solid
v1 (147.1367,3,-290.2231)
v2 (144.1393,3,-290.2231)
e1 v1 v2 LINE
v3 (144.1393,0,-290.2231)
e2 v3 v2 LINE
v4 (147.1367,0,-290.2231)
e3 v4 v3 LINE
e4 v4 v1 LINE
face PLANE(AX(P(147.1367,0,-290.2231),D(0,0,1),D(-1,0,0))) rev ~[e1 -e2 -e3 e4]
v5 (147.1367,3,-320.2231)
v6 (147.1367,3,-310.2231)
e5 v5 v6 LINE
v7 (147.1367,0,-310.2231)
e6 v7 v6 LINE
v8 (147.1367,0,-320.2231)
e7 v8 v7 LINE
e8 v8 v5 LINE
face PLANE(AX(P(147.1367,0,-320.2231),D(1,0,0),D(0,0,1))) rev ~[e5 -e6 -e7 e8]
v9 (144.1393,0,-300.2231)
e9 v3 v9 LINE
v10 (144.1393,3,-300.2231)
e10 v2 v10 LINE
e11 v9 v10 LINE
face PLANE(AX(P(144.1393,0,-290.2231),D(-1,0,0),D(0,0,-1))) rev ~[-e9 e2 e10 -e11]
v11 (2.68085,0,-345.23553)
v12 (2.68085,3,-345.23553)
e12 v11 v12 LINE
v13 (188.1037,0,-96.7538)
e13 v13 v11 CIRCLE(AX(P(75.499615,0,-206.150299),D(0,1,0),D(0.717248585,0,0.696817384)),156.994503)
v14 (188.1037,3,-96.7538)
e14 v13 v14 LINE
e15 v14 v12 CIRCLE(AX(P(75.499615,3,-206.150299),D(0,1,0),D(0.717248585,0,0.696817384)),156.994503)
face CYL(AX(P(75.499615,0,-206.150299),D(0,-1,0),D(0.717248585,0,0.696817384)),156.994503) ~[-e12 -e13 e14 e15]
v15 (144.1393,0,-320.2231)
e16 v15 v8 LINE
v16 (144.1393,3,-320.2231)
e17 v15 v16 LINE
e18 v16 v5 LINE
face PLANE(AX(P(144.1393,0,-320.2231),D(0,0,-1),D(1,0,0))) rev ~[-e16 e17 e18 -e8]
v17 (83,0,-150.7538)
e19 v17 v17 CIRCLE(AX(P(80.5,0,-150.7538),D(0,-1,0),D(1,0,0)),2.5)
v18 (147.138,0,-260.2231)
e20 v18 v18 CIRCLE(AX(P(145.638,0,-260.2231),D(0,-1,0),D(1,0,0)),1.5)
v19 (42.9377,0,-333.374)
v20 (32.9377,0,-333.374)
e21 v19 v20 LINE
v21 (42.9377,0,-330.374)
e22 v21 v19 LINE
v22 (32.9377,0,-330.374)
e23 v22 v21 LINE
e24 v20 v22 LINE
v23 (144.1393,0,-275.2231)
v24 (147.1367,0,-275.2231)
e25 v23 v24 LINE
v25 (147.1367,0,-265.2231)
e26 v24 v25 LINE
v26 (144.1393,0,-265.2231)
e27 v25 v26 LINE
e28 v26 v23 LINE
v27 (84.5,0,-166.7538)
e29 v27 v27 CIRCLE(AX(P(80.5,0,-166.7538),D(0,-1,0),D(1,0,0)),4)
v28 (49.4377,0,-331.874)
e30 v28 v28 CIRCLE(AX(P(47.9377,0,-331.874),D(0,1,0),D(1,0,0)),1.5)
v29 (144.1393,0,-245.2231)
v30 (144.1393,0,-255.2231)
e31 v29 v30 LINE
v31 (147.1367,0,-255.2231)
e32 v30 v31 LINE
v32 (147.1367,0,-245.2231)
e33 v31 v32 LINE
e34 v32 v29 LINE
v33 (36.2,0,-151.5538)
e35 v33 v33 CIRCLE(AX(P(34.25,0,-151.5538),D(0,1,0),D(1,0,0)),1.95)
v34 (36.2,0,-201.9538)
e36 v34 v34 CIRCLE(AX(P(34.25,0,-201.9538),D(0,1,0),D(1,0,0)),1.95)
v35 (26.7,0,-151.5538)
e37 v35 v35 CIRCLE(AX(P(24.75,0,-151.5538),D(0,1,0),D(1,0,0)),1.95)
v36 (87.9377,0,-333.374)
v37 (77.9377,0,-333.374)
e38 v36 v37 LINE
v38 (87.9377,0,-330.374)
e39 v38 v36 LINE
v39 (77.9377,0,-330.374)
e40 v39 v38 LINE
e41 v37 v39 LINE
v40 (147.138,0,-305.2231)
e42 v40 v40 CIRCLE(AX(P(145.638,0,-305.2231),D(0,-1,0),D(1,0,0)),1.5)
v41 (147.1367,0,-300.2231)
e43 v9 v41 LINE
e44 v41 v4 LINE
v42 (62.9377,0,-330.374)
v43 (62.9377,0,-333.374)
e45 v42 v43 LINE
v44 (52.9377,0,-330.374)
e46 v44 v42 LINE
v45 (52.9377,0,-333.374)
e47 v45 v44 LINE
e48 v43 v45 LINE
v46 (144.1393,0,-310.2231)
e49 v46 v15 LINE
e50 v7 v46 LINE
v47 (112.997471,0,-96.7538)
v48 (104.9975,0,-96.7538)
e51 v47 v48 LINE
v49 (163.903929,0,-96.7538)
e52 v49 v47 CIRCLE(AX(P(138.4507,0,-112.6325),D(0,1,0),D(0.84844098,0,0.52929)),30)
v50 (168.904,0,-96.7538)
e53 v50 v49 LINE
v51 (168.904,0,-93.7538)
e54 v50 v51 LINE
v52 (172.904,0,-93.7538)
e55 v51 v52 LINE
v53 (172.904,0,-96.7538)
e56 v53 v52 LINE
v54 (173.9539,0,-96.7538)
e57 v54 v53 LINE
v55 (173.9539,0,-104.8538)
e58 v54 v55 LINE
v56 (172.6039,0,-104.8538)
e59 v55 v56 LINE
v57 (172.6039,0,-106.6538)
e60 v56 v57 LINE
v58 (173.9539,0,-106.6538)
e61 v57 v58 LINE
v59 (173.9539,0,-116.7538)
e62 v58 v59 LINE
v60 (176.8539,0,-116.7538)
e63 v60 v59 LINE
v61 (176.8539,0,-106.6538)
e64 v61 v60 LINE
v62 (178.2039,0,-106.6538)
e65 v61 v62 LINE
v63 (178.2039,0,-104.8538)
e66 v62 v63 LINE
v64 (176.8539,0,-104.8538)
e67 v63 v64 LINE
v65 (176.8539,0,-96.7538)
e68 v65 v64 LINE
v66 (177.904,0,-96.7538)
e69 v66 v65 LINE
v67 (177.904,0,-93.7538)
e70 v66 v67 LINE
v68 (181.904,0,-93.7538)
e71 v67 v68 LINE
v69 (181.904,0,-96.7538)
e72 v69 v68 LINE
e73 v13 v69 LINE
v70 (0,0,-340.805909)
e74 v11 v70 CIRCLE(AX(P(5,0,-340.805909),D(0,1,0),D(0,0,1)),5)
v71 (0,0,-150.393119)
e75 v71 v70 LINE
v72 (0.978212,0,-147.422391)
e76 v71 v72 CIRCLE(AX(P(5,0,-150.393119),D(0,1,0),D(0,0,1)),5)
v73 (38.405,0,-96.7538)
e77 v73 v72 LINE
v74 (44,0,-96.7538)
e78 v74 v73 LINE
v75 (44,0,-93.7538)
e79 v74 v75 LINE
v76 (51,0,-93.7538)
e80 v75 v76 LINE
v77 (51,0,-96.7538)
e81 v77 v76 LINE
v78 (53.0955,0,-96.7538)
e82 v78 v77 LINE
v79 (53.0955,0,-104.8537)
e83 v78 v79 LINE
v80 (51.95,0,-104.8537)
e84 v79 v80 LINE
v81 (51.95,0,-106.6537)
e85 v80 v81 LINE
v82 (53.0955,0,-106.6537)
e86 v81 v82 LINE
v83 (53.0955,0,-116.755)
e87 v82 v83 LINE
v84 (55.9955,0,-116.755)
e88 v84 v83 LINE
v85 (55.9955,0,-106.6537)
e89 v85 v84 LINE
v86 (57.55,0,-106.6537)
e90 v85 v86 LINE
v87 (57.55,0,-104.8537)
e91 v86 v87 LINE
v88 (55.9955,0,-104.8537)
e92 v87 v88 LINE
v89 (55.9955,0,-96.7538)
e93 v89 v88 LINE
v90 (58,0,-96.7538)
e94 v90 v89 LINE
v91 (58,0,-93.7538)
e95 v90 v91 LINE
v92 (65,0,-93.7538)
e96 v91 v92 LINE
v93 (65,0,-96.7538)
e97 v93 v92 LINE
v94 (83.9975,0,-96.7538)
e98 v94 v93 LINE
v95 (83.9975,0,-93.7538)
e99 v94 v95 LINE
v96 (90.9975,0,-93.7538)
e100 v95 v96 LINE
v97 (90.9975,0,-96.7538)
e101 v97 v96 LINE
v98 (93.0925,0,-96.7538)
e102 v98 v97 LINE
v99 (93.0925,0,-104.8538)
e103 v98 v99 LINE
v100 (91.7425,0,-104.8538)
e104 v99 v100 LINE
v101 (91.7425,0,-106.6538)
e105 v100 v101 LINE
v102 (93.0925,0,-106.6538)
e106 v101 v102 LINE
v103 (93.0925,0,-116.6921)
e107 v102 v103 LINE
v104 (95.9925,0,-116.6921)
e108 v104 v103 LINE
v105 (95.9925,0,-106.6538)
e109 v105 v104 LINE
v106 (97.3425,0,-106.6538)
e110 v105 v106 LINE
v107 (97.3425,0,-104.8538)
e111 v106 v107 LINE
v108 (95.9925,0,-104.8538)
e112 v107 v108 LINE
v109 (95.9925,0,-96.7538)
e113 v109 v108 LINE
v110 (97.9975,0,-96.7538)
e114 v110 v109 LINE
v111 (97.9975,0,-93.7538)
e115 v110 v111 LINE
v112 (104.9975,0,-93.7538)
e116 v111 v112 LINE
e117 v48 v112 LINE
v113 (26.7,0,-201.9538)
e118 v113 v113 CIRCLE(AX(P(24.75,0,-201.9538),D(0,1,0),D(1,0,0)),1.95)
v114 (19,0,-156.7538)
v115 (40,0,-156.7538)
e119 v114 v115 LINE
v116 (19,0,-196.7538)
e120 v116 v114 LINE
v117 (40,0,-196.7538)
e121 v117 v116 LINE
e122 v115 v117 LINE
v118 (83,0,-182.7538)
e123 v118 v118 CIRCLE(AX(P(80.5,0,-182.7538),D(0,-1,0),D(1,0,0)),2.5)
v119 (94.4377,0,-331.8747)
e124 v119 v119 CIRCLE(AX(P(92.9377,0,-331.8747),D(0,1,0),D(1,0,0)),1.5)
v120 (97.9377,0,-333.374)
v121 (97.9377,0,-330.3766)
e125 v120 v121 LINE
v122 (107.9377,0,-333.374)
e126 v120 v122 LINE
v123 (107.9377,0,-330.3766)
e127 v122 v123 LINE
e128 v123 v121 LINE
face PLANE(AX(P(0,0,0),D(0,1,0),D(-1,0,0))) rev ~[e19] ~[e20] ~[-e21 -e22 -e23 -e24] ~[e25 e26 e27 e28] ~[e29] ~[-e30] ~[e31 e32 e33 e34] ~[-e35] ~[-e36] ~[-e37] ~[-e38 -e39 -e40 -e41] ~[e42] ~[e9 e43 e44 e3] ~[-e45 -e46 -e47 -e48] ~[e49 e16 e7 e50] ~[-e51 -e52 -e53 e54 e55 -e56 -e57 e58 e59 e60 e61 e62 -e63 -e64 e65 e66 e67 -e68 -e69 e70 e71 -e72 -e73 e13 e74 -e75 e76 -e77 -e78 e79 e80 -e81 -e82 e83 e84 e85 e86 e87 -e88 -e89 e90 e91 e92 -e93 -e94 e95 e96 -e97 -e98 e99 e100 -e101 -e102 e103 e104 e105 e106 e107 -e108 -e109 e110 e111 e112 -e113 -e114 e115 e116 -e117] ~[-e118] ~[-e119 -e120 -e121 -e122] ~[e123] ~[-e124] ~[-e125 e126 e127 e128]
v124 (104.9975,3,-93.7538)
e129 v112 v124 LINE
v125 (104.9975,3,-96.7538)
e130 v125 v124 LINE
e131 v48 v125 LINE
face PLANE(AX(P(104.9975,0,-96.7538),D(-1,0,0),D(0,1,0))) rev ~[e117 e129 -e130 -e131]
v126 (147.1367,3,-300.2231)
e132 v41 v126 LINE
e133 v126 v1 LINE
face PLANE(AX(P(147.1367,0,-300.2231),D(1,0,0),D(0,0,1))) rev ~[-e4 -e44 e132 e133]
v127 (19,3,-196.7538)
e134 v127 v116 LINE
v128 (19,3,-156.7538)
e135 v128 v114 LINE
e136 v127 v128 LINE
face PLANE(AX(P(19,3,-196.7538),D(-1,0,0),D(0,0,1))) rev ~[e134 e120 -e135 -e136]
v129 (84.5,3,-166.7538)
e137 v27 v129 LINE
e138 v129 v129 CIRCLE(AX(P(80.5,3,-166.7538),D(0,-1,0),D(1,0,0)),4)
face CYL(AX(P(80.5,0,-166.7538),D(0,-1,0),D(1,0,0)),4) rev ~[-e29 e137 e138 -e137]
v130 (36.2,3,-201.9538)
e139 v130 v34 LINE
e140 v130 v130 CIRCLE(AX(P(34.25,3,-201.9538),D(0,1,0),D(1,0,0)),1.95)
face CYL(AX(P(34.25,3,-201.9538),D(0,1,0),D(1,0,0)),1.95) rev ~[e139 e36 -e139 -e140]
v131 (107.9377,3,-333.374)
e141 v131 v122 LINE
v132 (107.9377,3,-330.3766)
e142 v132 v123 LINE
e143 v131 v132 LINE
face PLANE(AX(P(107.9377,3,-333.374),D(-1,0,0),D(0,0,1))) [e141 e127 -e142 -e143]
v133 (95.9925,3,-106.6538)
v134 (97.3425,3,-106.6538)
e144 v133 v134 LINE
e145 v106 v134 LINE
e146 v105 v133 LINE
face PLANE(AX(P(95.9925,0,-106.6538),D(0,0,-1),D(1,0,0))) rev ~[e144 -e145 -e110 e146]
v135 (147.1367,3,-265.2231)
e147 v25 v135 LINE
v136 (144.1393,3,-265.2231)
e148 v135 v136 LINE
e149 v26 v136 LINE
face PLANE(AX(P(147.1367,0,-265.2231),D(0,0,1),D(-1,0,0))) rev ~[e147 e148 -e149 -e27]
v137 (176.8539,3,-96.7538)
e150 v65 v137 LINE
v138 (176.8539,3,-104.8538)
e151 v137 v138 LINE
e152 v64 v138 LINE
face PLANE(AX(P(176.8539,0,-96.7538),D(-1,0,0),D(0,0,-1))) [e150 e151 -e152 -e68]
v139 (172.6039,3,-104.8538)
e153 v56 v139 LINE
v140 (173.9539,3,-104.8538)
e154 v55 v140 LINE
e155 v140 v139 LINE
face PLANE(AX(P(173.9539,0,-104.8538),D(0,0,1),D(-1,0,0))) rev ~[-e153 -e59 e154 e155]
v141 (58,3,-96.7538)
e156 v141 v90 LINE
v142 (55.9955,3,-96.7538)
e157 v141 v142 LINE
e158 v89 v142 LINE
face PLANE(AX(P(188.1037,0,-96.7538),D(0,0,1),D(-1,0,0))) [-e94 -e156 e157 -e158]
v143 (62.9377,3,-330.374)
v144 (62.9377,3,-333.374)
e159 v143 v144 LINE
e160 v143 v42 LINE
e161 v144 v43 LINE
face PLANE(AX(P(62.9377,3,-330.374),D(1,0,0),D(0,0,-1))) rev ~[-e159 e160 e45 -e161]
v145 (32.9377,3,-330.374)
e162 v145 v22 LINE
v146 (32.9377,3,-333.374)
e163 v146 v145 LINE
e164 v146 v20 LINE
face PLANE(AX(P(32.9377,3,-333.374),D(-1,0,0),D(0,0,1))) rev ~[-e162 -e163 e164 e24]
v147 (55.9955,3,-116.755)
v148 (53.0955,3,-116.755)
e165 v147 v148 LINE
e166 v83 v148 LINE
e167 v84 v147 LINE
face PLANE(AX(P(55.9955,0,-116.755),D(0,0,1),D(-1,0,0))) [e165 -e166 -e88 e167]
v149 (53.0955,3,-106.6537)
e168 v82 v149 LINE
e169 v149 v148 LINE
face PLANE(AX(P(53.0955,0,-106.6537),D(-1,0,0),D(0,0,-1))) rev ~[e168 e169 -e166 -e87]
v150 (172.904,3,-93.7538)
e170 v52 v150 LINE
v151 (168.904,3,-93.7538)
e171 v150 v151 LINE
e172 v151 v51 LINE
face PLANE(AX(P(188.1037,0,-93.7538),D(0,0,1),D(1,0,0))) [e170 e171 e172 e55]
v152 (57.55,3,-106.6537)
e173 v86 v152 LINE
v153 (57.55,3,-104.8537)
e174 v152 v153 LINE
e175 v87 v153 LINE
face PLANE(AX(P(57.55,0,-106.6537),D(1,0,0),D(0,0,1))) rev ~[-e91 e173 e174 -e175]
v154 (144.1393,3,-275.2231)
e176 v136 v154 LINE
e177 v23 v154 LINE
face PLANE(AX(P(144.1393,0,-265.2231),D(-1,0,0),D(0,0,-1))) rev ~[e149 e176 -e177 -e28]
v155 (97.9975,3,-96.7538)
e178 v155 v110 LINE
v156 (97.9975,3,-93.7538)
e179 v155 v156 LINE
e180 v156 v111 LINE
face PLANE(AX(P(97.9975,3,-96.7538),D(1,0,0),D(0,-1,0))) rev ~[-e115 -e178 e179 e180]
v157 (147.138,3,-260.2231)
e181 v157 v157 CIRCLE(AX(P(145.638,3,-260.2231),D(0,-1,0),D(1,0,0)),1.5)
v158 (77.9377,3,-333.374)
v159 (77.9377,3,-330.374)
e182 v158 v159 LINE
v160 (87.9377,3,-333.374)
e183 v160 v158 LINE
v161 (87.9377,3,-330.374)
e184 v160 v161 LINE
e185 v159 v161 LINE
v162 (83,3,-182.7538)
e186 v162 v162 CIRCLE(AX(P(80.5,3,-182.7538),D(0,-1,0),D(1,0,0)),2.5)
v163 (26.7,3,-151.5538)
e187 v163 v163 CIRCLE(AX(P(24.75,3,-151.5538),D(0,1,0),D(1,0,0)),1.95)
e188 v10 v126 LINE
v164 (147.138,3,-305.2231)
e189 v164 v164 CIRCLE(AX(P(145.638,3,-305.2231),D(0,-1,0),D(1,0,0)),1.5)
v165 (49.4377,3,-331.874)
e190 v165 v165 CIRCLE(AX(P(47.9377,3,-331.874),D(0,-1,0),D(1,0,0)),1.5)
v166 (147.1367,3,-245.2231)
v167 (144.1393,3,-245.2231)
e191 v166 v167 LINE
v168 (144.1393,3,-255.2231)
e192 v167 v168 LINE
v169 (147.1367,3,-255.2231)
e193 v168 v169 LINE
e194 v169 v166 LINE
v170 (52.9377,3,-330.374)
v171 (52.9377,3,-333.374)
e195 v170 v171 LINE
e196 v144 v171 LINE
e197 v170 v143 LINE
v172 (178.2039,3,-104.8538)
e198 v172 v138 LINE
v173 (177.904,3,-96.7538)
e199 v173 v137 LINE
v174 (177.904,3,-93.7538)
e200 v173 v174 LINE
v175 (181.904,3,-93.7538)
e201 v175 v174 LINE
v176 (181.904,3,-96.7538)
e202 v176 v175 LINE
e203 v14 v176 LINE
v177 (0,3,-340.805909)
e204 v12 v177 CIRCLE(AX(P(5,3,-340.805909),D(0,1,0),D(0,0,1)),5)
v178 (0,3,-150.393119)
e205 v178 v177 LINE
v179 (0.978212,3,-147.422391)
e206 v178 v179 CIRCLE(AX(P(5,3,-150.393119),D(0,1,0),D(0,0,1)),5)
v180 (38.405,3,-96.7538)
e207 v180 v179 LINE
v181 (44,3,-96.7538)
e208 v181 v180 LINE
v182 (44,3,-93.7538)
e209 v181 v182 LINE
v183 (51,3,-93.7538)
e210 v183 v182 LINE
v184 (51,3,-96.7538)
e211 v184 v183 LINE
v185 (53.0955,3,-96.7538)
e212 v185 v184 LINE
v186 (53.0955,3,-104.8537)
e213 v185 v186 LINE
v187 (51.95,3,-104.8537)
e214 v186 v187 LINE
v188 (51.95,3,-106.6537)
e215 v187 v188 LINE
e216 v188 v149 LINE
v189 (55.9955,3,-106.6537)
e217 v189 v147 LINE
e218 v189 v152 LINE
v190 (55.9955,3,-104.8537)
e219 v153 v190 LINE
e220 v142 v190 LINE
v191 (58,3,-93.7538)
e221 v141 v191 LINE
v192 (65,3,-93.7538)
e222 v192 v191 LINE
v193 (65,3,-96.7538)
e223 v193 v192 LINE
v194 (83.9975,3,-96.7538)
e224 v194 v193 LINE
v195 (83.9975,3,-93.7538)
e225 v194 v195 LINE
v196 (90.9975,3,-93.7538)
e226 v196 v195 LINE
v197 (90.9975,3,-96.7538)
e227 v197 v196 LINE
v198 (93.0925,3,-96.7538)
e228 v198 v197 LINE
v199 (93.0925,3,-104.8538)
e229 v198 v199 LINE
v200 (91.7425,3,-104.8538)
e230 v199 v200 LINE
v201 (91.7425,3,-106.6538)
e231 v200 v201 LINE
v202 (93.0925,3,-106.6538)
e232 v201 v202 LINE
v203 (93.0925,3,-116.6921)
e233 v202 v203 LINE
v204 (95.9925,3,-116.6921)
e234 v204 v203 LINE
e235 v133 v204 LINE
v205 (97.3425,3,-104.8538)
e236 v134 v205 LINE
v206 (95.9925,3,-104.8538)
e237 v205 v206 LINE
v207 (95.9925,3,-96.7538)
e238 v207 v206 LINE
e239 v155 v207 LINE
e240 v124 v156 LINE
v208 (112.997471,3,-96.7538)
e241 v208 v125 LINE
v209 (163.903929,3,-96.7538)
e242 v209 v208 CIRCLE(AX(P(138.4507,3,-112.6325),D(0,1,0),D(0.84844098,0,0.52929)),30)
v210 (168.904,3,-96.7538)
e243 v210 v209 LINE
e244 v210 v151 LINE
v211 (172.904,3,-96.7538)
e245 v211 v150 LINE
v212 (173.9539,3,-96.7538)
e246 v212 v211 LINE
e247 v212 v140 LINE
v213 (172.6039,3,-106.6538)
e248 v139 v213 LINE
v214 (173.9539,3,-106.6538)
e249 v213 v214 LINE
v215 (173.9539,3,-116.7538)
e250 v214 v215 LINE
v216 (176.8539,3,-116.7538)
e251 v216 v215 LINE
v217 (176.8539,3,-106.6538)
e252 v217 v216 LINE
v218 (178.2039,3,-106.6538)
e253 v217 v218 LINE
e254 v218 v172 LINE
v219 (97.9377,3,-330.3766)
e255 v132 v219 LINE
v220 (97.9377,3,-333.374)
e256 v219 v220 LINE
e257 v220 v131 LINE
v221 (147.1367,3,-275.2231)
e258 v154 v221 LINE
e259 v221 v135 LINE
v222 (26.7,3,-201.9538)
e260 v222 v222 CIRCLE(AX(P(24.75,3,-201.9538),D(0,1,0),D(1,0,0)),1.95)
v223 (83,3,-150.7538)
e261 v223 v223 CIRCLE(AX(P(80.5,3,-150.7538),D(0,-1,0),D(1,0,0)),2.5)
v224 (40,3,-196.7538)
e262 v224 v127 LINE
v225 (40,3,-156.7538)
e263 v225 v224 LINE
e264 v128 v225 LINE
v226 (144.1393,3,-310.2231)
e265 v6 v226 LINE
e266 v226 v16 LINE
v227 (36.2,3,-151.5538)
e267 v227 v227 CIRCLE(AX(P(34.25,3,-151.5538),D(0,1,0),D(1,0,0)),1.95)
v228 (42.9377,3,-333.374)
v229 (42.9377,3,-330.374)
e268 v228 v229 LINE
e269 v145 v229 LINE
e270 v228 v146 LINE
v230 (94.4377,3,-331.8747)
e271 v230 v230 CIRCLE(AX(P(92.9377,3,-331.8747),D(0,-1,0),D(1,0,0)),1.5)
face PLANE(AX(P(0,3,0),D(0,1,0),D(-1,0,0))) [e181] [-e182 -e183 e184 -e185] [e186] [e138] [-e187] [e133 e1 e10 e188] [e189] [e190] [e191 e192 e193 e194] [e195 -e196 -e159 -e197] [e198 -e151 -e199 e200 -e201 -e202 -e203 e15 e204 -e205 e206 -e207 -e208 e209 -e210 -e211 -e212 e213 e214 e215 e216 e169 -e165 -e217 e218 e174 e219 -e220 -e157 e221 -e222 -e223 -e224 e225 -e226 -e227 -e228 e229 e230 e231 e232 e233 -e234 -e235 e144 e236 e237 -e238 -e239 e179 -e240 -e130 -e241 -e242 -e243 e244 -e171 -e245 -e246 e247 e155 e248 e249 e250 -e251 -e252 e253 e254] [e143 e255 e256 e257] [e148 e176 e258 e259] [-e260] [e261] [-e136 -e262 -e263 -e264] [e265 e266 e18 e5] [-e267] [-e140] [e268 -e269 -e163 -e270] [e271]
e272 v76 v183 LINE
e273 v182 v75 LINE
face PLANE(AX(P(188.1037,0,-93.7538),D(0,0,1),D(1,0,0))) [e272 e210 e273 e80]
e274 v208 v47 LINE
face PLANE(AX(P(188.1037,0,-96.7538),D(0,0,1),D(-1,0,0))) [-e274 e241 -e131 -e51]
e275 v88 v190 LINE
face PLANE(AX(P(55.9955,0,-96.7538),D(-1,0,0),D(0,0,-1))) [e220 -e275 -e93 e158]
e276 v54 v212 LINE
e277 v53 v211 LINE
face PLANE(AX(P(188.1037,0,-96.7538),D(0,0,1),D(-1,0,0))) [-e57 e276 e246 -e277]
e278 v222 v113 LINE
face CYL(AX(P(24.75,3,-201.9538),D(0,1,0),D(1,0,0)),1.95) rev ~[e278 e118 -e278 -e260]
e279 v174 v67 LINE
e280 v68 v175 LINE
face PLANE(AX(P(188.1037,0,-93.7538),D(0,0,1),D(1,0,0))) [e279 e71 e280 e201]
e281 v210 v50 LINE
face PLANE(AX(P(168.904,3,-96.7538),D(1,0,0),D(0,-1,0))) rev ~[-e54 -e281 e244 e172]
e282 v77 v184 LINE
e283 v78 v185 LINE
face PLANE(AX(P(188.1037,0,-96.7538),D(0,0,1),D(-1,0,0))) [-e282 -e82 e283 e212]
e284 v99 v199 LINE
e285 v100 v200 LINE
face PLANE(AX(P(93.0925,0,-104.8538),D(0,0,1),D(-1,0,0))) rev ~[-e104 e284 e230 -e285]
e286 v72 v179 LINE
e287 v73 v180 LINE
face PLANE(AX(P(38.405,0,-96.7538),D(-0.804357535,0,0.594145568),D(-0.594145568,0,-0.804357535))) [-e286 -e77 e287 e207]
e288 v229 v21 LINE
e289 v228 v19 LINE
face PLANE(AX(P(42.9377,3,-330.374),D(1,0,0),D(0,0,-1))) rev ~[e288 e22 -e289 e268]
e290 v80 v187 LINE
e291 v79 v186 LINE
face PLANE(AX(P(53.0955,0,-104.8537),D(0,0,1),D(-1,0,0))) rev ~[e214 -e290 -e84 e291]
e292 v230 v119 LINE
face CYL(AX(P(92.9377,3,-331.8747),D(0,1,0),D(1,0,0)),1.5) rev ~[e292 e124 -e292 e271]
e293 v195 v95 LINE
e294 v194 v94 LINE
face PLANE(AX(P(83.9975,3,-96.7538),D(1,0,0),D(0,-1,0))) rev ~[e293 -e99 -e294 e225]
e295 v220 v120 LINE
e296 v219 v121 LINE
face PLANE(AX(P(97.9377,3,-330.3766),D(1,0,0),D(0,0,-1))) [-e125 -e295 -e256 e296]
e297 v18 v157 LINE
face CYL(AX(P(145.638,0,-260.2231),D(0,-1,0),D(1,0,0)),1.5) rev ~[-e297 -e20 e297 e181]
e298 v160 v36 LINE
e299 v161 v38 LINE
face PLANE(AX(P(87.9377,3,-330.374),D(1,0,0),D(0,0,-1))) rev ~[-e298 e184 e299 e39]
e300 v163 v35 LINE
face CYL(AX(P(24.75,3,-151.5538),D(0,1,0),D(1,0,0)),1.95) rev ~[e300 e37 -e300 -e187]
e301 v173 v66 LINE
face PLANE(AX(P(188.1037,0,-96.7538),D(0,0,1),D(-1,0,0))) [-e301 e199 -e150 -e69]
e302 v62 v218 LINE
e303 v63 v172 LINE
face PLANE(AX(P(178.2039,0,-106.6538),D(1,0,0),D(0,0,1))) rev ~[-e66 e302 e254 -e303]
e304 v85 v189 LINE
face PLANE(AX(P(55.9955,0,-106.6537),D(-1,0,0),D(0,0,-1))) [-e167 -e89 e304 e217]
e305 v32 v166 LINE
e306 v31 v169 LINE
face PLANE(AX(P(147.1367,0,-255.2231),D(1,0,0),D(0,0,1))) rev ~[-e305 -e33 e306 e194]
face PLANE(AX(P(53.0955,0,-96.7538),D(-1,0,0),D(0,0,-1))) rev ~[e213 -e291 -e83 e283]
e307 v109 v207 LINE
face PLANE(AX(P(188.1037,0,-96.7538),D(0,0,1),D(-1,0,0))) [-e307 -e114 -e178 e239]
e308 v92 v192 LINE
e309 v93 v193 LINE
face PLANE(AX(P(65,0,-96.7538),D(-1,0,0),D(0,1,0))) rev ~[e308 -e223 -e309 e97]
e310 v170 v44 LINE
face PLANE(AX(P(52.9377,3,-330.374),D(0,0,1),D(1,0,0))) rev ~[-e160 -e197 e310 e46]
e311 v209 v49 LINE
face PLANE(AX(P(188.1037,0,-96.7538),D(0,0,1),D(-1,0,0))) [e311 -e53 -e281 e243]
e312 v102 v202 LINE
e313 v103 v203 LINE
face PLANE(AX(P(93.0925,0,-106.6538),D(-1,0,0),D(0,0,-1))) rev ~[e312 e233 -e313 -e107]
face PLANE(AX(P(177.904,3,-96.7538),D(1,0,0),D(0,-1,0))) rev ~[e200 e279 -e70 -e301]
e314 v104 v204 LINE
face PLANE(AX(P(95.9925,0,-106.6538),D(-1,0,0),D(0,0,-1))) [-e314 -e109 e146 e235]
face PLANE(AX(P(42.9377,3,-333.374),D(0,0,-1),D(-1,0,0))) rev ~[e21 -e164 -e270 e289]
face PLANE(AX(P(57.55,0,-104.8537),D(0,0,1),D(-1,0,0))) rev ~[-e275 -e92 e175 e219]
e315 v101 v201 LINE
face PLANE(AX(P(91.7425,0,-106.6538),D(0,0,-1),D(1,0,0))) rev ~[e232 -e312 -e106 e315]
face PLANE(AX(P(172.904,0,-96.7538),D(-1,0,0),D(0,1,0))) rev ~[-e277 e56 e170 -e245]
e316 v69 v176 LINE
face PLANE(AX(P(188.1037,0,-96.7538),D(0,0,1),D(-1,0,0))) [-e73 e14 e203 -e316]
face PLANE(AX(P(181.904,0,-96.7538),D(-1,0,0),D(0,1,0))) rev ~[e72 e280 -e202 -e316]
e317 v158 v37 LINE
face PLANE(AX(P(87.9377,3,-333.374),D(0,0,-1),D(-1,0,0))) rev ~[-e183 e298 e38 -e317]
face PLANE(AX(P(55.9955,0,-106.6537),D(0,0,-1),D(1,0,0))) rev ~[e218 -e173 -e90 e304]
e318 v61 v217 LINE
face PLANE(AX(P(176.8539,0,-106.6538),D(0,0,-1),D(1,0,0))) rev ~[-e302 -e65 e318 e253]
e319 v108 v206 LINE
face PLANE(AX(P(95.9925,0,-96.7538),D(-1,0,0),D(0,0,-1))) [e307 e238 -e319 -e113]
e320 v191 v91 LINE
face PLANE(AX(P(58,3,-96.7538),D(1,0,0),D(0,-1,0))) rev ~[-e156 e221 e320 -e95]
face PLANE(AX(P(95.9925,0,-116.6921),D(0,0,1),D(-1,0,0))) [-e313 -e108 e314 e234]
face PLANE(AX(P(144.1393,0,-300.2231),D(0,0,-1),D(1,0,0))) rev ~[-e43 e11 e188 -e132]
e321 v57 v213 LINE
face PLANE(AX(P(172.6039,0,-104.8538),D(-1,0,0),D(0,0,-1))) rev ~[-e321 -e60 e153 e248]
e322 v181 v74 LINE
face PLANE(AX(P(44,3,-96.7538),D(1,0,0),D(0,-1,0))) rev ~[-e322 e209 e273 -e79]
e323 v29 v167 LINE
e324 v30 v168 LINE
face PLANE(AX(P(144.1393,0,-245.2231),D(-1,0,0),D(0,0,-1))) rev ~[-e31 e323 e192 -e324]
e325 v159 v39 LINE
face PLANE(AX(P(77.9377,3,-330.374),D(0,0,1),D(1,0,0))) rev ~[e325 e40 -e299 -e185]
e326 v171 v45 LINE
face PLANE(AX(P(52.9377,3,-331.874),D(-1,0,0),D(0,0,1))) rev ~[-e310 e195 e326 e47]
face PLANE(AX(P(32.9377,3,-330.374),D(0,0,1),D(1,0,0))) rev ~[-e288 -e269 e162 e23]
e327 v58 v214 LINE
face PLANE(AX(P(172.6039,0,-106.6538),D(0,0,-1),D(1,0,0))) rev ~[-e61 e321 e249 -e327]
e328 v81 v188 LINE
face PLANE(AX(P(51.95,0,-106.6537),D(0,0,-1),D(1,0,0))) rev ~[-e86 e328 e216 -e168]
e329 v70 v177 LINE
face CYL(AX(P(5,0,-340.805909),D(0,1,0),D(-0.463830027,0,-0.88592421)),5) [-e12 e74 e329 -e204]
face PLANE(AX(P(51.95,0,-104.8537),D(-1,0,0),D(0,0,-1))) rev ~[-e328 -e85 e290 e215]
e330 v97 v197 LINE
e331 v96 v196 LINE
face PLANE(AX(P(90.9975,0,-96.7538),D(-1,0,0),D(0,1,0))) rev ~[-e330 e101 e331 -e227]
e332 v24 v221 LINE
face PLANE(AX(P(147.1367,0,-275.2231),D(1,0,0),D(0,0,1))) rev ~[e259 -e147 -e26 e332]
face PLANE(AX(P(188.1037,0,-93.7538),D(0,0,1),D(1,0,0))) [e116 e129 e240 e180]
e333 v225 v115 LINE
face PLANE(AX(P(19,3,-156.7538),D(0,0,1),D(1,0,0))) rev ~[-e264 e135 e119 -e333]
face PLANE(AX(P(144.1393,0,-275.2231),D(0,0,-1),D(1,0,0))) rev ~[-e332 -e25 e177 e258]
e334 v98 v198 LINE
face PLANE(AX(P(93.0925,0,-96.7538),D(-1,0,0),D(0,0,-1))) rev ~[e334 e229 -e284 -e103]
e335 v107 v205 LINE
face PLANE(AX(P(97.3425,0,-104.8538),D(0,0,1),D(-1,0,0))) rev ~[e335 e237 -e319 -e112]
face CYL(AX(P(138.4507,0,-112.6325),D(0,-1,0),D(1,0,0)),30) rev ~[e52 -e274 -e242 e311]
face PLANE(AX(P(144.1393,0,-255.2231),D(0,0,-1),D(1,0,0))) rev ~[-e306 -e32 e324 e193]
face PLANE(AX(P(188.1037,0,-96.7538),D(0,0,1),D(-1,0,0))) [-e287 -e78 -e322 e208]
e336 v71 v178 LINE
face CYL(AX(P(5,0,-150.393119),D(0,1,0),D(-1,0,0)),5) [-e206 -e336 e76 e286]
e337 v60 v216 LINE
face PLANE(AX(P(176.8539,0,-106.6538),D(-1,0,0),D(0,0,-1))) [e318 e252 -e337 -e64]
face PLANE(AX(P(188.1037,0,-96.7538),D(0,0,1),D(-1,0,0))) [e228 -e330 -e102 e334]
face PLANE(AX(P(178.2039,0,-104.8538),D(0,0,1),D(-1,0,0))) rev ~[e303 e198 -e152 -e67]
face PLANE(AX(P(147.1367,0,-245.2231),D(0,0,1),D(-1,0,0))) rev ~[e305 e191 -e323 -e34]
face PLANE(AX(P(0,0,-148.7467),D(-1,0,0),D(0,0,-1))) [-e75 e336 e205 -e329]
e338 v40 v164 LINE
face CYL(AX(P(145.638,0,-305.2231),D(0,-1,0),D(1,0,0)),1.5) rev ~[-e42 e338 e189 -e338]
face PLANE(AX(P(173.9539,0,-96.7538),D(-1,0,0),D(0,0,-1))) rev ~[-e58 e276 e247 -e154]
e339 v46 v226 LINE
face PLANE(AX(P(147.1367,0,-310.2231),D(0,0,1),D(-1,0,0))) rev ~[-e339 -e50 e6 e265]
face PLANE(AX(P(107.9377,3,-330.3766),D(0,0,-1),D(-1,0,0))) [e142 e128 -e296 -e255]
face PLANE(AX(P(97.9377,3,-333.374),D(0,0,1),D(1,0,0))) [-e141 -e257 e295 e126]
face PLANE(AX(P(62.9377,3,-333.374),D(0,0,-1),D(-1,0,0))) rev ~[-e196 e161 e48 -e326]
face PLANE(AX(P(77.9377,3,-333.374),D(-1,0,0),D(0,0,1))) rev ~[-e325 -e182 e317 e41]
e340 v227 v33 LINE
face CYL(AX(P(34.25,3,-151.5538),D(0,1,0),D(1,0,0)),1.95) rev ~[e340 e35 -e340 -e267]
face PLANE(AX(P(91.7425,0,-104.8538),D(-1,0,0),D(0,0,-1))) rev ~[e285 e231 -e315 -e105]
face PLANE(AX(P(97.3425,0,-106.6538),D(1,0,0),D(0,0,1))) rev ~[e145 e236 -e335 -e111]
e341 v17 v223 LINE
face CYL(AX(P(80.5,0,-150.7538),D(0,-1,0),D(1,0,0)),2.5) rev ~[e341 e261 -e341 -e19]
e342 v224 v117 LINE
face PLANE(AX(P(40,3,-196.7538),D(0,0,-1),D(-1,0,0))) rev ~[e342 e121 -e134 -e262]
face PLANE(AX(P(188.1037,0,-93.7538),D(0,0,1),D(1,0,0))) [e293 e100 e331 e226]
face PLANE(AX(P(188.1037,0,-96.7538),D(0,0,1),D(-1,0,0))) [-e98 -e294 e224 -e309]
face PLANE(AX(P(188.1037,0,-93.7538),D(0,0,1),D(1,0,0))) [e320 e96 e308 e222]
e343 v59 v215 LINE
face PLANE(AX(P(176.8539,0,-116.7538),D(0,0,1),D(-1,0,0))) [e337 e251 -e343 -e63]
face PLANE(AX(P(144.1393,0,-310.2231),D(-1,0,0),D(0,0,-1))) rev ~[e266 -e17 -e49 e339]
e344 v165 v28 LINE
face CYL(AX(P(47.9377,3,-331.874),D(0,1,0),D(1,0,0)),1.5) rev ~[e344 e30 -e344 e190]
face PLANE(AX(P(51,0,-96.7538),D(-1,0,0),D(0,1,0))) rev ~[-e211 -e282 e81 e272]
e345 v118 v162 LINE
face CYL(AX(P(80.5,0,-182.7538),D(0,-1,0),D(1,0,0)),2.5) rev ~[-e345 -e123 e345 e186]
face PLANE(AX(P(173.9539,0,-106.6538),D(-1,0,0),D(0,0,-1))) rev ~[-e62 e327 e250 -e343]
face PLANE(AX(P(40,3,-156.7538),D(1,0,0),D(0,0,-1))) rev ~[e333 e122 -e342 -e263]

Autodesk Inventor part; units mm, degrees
ref_plane "YZ Plane" through (0, 0, 0) normal (1, 0, 0) x (0, 1, 0)
ref_plane "XZ Plane" through (0, 0, 0) normal (0, 1, 0) x (-1, 0, 0)
ref_plane "XY Plane" through (0, 0, 0) normal (0, 0, 1) x (1, 0, 0)
sketch "Эскиз1" plane through (0, 0, 0) normal (0, 1, 0) x (-1, 0, 0)
  line L0 (-188.1037, -96.7538) -> (-38.405, -96.7538)
  line L1 (0, -148.7467) -> (0, -343.7987)
  line L2 (-38.405, -96.7538) -> (0, -148.7467)
  arc A0 (-188.1037, -96.7538) -> (0, -343.7987) centre (-75.4996, -206.1503) ccw
  point P0 (0, 0)
  point P1 (-169.7729, -152.9638)
  dimension "d66" = 96.7538
  dimension "d67" = 148.7467
  dimension "d68" = 126.452
extrude "Выдавливание2" add sketch "Эскиз1" along normal blind 3
sketch "Эскиз3" plane through (0, 0, 0) normal (0, -1, 0) x (1, 0, 0)
  circle A0 centre (138.4507, -112.6325) radius 30
  line L0 (146.7814, -112.6325) -> (51.9196, -112.6325) construction
  point P0 (0, 0)
extrude "Выдавливание3" cut sketch "Эскиз3" against normal through all
sketch "Эскиз4" plane through (0, 3, 0) normal (0, 1, 0) x (1, 0, 0)
  line L0 (40, 196.7538) -> (19, 196.7538)
  line L1 (19, 196.7538) -> (19, 156.7538)
  line L2 (19, 156.7538) -> (40, 156.7538)
  line L3 (40, 156.7538) -> (40, 196.7538)
  line L4 (40, 176.7538) -> (19, 176.7538) construction
  circle A0 centre (34.25, 201.9538) radius 1.95
  circle A1 centre (24.75, 201.9538) radius 1.95
  line L5 (0, 343.7987) -> (0, 148.7467) projected
  line L6 (29.5, 196.7538) -> (29.5, 203.7538) construction
  line L7 (39, 207.1538) -> (20, 207.1538) construction
  line L8 (39, 207.1538) -> (39, 196.7538) construction
  line L9 (20, 207.1538) -> (20, 196.7538) construction
  line L10 (34.25, 207.1538) -> (34.25, 196.7538) construction
  line L11 (24.75, 207.1538) -> (24.75, 196.7538) construction
  circle A2 centre (34.25, 151.5538) radius 1.95
  circle A3 centre (24.75, 151.5538) radius 1.95
  point P0 (0, 0)
  point P1 (39, 201.9538)
  dimension "d10" = 40
  dimension "d97" = 7
  dimension "d109" = 21
  dimension "d115" = 9.5
  dimension "d116" = 19
  dimension "d117" = 5.2
  dimension "d118" = 19
  dimension "d119" = 1
  dimension "d187" = 3.9
extrude "Выдавливание4" cut sketch "Эскиз4" against normal blind 10
sketch "Эскиз6" plane through (188.1037, 0, -96.7538) normal (0, 0, 1) x (1, 0, 0)
  line L0 (-24.1997, 3) -> (-75.1062, 3) construction
  line L1 (-83.1062, 3) -> (-90.1062, 3)
  line L2 (-90.1062, 3) -> (-90.1062, 0)
  line L3 (-90.1062, 0) -> (-83.1062, 0)
  line L4 (-83.1062, 0) -> (-83.1062, 3)
  line L5 (-97.1062, 3) -> (-104.1062, 3)
  line L6 (-104.1062, 3) -> (-104.1062, 0)
  line L7 (-104.1062, 0) -> (-97.1062, 0)
  line L8 (-97.1062, 0) -> (-97.1062, 3)
  line L9 (-123.1037, 3) -> (-130.1037, 3)
  line L10 (-130.1037, 3) -> (-130.1037, 0)
  line L11 (-130.1037, 0) -> (-123.1037, 0)
  line L12 (-123.1037, 0) -> (-123.1037, 3)
  line L13 (-137.1037, 3) -> (-144.1037, 3)
  line L14 (-144.1037, 3) -> (-144.1037, 0)
  line L15 (-144.1037, 0) -> (-137.1037, 0)
  line L16 (-137.1037, 0) -> (-137.1037, 3)
  line L17 (-188.1037, 0) -> (-75.1062, 0)
  line L18 (0, 0) -> (0, 3)
  line L19 (-188.1037, 0) -> (-188.1037, 3) construction
  line L20 (-6.1997, 3) -> (-10.1997, 3)
  line L21 (-10.1997, 3) -> (-10.1997, 0)
  line L22 (-10.1997, 0) -> (-6.1997, 0)
  line L23 (-6.1997, 0) -> (-6.1997, 3)
  line L24 (-15.1997, 3) -> (-19.1997, 3)
  line L25 (-19.1997, 3) -> (-19.1997, 0)
  line L26 (-19.1997, 0) -> (-15.1997, 0)
  line L27 (-15.1997, 0) -> (-15.1997, 3)
  line L28 (-24.1997, 3) -> (0, 3) construction
  line L29 (-24.1997, 3) -> (-24.1997, 0)
  line L30 (-75.1062, 0) -> (-75.1062, 3) construction
  point P0 (-97.1062, 1.5)
  point P1 (-90.1062, 1.5)
  point P2 (-137.1037, 1.5)
  point P3 (-130.1037, 1.5)
  point P4 (-126.6037, 0)
  point P5 (-140.6037, 0)
  point P6 (-188.1037, 1.5)
  point P7 (-15.1997, 1.5)
  point P8 (-10.1997, 1.5)
  point P9 (-75.1062, 1.5)
  point P10 (-83.1062, 1.5)
  dimension "d26" = 3
  dimension "d91" = 8
sketch "Эскиз7" plane through (0, 0, 0) normal (0, -1, 0) x (1, 0, 0)
  line L0 (54.5455, -116.7538) -> (54.5455, -96.7267) construction
  line L1 (51.95, -104.8537) -> (51.95, -106.6537)
  line L2 (57.55, -106.6537) -> (57.55, -104.8537)
  line L3 (57.55, -104.8537) -> (51.95, -106.6537) construction
  line L4 (51.95, -104.8537) -> (57.55, -106.6537) construction
  line L5 (57.55, -104.8537) -> (55.9955, -104.8537)
  line L6 (53.0955, -104.8537) -> (51.95, -104.8537)
  line L7 (51.95, -106.6537) -> (53.0955, -106.6537)
  line L8 (55.9955, -106.6537) -> (57.55, -106.6537)
  line L9 (55.9955, -96.7538) -> (55.9955, -104.8537)
  line L10 (55.9955, -106.6537) -> (55.9955, -116.755)
  line L11 (53.0955, -96.7538) -> (53.0955, -104.8537)
  line L12 (53.0955, -106.6537) -> (53.0955, -116.755)
  line L13 (91.7425, -104.8538) -> (91.7425, -106.6538)
  line L14 (97.3425, -106.6538) -> (97.3425, -104.8538)
  line L15 (97.3425, -104.8538) -> (91.7425, -106.6538) construction
  line L16 (91.7425, -104.8538) -> (97.3425, -106.6538) construction
  line L17 (97.3425, -104.8538) -> (95.9925, -104.8538)
  line L18 (93.0925, -104.8538) -> (91.7425, -104.8538)
  line L19 (91.7425, -106.6538) -> (93.0925, -106.6538)
  line L20 (95.9925, -106.6538) -> (97.3425, -106.6538)
  line L21 (95.9925, -96.6922) -> (95.9925, -104.8538)
  line L22 (95.9925, -106.6538) -> (95.9925, -116.6921)
  line L23 (93.0925, -96.6922) -> (93.0925, -104.8538)
  line L24 (93.0925, -106.6538) -> (93.0925, -116.6921)
  line L25 (172.6039, -104.8538) -> (172.6039, -106.6538)
  line L26 (178.2039, -106.6538) -> (178.2039, -104.8538)
  line L27 (178.2039, -104.8538) -> (172.6039, -106.6538) construction
  line L28 (172.6039, -104.8538) -> (178.2039, -106.6538) construction
  line L29 (178.2039, -104.8538) -> (176.8539, -104.8538)
  line L30 (173.9539, -104.8538) -> (172.6039, -104.8538)
  line L31 (172.6039, -106.6538) -> (173.9539, -106.6538)
  line L32 (176.8539, -106.6538) -> (178.2039, -106.6538)
  line L33 (176.8539, -96.7538) -> (176.8539, -104.8538)
  line L34 (176.8539, -106.6538) -> (176.8539, -116.7538)
  line L35 (173.9539, -96.7538) -> (173.9539, -104.8538)
  line L36 (173.9539, -106.6538) -> (173.9539, -116.7538)
  line L37 (95.9925, -116.6921) -> (93.0925, -116.6921)
  line L38 (95.9925, -96.6922) -> (93.0925, -96.6922) construction
  line L39 (38.405, -96.7538) -> (112.9975, -96.7538) projected
  line L40 (0, -343.7987) -> (0, -148.7467) projected
  line L41 (176.8539, -96.7538) -> (173.9539, -96.7538)
  line L42 (163.9039, -96.7538) -> (188.1037, -96.7538)
  line L43 (176.9039, -96.7538) -> (173.9039, -96.7538) projected
  line L44 (176.8539, -116.7538) -> (173.9539, -116.7538)
  line L45 (55.9955, -116.755) -> (53.0955, -116.755)
  point P0 (0, 0)
  point P1 (94.5425, -96.6922)
  point P2 (75.7012, -96.7538)
  point P3 (95.9925, -96.7538)
  point P4 (93.0925, -96.7538)
  point P5 (175.4039, -96.7538)
  point P6 (172.6039, -105.7538)
  point P7 (96.6675, -104.8538)
  point P8 (55.9955, -100.8037)
  point P9 (55.9955, -96.7538)
  point P10 (53.0955, -96.7538)
  dimension "d140" = 5.6
  dimension "d164" = 39.997
  dimension "d172" = 2.9
  dimension "d174" = 8.1
  dimension "d176" = 5.6
  dimension "d177" = 2.9
  dimension "d178" = 5.6
  dimension "d179" = 1.8
  dimension "d180" = 8.1
  dimension "d181" = 1.8
  dimension "d182" = 2.9
  dimension "d183" = 2.9
  dimension "d186" = 1.8
extrude "Выдавливание6" cut sketch "Эскиз7" against normal blind 3
sketch "Эскиз10" plane through (0, 0, 0) normal (0, -1, 0) x (1, 0, 0)
  line L0 (147.1367, -255.2231) -> (147.1367, -245.2231)
  line L1 (144.1393, -255.2231) -> (147.1367, -255.2231)
  line L2 (144.1393, -245.2231) -> (144.1393, -255.2231)
  line L3 (147.1367, -245.2231) -> (144.1393, -245.2231)
  line L4 (147.1367, -265.2231) -> (144.1393, -265.2231)
  line L5 (147.1367, -275.2231) -> (147.1367, -265.2231)
  line L6 (144.1393, -265.2231) -> (144.1393, -275.2231)
  line L7 (144.1393, -275.2231) -> (147.1367, -275.2231)
  line L8 (147.1367, -290.2231) -> (144.1393, -290.2231)
  line L9 (147.1367, -300.2231) -> (147.1367, -290.2231)
  line L10 (144.1393, -300.2231) -> (147.1367, -300.2231)
  line L11 (144.1393, -290.2231) -> (144.1393, -300.2231)
  line L12 (147.1367, -310.2231) -> (144.1393, -310.2231)
  line L13 (147.1367, -320.2231) -> (147.1367, -310.2231)
  line L14 (144.1393, -320.2231) -> (147.1367, -320.2231)
  line L15 (144.1393, -310.2231) -> (144.1393, -320.2231)
  line L16 (145.638, -255.2231) -> (145.638, -265.2231) construction
  circle A0 centre (145.638, -260.2231) radius 1.5
  circle A1 centre (145.638, -305.2231) radius 1.5
  line L17 (145.638, -300.2231) -> (145.638, -310.2231) construction
  point P0 (0, 0)
  dimension "d184" = 3
extrude "Выдавливание8" cut sketch "Эскиз10" against normal blind 3
sketch "Эскиз11" plane through (0, 0, 0) normal (0, -1, 0) x (1, 0, 0)
  circle A0 centre (80.5, -166.7538) radius 4
  line L0 (0, -343.7987) -> (0, -148.7467) projected
  line L1 (38.405, -96.7538) -> (112.9975, -96.7538) projected
  point P0 (0, 0)
  point P1 (65, -96.7538)
  point P2 (83.9975, -96.7538)
  dimension "d130" = 80.5
  dimension "d131" = 70
  dimension "d132" = 8
extrude "Выдавливание9" cut sketch "Эскиз11" against normal blind 3
ref_plane "РабПлоскость3" through (116.247, 153.6358, -229.9493) normal (0, -1, 0) x (-1, 0, 0)
sketch "Эскиз14" plane through (0, 3, 0) normal (0, 1, 0) x (1, 0, 0)
  line L0 (97.9377, 333.374) -> (107.9377, 333.374)
  line L1 (107.9377, 333.374) -> (107.9377, 330.3766)
  line L2 (97.9377, 330.3766) -> (97.9377, 333.374)
  line L3 (107.9377, 330.3766) -> (97.9377, 330.3766)
  line L4 (77.9377, 333.374) -> (77.9377, 330.374)
  line L5 (77.9377, 330.374) -> (87.9377, 330.374)
  line L6 (87.9377, 330.374) -> (87.9377, 333.374)
  line L7 (87.9377, 333.374) -> (77.9377, 333.374)
  line L8 (52.9377, 333.374) -> (52.9377, 330.374)
  line L9 (52.9377, 330.374) -> (62.9377, 330.374)
  line L10 (62.9377, 330.374) -> (62.9377, 333.374)
  line L11 (62.9377, 333.374) -> (52.9377, 333.374)
  line L12 (32.9377, 333.374) -> (32.9377, 330.374)
  line L13 (32.9377, 330.374) -> (42.9377, 330.374)
  line L14 (42.9377, 330.374) -> (42.9377, 333.374)
  line L15 (42.9377, 333.374) -> (32.9377, 333.374)
  circle A0 centre (92.9377, 331.8747) radius 1.5
  circle A1 centre (47.9377, 331.874) radius 1.5
  line L16 (87.9377, 331.874) -> (97.9377, 331.8753)
  line L17 (52.9377, 331.874) -> (42.9377, 331.874)
  point P0 (0, 0)
  dimension "d127" = 3
extrude "Выдавливание10" cut sketch "Эскиз14" against normal up to surface (3 mm away)
extrude "Выдавливание11" add sketch "Эскиз6" along normal blind 3
sketch "Эскиз15" plane through (172.9039, 0, -96.7538) normal (0, 0, 1) x (1, 0, 0)
  point P0 (-172.9039, 0)
sketch "Эскиз16" plane through (0, 0, 0) normal (0, -1, 0) x (1, 0, 0)
  circle A0 centre (80.5, -182.7538) radius 2.5
  circle A1 centre (80.5, -150.7538) radius 2.5
  circle A2 centre (80.5, -166.7538) radius 4 construction
  line L0 (80.5, -150.7538) -> (80.5, -182.7538) construction
  point P0 (0, 0)
  point P1 (80.5, -166.7538)
  dimension "d188" = 5
  dimension "d189" = 32
extrude "Выдавливание12" cut sketch "Эскиз16" against normal blind 3
fillet "Сопряжение1" radius 5 2 edges at (0, 1.5, -343.7987) (0, 1.5, -148.7467)
properties part number "боковые стороны головы"
